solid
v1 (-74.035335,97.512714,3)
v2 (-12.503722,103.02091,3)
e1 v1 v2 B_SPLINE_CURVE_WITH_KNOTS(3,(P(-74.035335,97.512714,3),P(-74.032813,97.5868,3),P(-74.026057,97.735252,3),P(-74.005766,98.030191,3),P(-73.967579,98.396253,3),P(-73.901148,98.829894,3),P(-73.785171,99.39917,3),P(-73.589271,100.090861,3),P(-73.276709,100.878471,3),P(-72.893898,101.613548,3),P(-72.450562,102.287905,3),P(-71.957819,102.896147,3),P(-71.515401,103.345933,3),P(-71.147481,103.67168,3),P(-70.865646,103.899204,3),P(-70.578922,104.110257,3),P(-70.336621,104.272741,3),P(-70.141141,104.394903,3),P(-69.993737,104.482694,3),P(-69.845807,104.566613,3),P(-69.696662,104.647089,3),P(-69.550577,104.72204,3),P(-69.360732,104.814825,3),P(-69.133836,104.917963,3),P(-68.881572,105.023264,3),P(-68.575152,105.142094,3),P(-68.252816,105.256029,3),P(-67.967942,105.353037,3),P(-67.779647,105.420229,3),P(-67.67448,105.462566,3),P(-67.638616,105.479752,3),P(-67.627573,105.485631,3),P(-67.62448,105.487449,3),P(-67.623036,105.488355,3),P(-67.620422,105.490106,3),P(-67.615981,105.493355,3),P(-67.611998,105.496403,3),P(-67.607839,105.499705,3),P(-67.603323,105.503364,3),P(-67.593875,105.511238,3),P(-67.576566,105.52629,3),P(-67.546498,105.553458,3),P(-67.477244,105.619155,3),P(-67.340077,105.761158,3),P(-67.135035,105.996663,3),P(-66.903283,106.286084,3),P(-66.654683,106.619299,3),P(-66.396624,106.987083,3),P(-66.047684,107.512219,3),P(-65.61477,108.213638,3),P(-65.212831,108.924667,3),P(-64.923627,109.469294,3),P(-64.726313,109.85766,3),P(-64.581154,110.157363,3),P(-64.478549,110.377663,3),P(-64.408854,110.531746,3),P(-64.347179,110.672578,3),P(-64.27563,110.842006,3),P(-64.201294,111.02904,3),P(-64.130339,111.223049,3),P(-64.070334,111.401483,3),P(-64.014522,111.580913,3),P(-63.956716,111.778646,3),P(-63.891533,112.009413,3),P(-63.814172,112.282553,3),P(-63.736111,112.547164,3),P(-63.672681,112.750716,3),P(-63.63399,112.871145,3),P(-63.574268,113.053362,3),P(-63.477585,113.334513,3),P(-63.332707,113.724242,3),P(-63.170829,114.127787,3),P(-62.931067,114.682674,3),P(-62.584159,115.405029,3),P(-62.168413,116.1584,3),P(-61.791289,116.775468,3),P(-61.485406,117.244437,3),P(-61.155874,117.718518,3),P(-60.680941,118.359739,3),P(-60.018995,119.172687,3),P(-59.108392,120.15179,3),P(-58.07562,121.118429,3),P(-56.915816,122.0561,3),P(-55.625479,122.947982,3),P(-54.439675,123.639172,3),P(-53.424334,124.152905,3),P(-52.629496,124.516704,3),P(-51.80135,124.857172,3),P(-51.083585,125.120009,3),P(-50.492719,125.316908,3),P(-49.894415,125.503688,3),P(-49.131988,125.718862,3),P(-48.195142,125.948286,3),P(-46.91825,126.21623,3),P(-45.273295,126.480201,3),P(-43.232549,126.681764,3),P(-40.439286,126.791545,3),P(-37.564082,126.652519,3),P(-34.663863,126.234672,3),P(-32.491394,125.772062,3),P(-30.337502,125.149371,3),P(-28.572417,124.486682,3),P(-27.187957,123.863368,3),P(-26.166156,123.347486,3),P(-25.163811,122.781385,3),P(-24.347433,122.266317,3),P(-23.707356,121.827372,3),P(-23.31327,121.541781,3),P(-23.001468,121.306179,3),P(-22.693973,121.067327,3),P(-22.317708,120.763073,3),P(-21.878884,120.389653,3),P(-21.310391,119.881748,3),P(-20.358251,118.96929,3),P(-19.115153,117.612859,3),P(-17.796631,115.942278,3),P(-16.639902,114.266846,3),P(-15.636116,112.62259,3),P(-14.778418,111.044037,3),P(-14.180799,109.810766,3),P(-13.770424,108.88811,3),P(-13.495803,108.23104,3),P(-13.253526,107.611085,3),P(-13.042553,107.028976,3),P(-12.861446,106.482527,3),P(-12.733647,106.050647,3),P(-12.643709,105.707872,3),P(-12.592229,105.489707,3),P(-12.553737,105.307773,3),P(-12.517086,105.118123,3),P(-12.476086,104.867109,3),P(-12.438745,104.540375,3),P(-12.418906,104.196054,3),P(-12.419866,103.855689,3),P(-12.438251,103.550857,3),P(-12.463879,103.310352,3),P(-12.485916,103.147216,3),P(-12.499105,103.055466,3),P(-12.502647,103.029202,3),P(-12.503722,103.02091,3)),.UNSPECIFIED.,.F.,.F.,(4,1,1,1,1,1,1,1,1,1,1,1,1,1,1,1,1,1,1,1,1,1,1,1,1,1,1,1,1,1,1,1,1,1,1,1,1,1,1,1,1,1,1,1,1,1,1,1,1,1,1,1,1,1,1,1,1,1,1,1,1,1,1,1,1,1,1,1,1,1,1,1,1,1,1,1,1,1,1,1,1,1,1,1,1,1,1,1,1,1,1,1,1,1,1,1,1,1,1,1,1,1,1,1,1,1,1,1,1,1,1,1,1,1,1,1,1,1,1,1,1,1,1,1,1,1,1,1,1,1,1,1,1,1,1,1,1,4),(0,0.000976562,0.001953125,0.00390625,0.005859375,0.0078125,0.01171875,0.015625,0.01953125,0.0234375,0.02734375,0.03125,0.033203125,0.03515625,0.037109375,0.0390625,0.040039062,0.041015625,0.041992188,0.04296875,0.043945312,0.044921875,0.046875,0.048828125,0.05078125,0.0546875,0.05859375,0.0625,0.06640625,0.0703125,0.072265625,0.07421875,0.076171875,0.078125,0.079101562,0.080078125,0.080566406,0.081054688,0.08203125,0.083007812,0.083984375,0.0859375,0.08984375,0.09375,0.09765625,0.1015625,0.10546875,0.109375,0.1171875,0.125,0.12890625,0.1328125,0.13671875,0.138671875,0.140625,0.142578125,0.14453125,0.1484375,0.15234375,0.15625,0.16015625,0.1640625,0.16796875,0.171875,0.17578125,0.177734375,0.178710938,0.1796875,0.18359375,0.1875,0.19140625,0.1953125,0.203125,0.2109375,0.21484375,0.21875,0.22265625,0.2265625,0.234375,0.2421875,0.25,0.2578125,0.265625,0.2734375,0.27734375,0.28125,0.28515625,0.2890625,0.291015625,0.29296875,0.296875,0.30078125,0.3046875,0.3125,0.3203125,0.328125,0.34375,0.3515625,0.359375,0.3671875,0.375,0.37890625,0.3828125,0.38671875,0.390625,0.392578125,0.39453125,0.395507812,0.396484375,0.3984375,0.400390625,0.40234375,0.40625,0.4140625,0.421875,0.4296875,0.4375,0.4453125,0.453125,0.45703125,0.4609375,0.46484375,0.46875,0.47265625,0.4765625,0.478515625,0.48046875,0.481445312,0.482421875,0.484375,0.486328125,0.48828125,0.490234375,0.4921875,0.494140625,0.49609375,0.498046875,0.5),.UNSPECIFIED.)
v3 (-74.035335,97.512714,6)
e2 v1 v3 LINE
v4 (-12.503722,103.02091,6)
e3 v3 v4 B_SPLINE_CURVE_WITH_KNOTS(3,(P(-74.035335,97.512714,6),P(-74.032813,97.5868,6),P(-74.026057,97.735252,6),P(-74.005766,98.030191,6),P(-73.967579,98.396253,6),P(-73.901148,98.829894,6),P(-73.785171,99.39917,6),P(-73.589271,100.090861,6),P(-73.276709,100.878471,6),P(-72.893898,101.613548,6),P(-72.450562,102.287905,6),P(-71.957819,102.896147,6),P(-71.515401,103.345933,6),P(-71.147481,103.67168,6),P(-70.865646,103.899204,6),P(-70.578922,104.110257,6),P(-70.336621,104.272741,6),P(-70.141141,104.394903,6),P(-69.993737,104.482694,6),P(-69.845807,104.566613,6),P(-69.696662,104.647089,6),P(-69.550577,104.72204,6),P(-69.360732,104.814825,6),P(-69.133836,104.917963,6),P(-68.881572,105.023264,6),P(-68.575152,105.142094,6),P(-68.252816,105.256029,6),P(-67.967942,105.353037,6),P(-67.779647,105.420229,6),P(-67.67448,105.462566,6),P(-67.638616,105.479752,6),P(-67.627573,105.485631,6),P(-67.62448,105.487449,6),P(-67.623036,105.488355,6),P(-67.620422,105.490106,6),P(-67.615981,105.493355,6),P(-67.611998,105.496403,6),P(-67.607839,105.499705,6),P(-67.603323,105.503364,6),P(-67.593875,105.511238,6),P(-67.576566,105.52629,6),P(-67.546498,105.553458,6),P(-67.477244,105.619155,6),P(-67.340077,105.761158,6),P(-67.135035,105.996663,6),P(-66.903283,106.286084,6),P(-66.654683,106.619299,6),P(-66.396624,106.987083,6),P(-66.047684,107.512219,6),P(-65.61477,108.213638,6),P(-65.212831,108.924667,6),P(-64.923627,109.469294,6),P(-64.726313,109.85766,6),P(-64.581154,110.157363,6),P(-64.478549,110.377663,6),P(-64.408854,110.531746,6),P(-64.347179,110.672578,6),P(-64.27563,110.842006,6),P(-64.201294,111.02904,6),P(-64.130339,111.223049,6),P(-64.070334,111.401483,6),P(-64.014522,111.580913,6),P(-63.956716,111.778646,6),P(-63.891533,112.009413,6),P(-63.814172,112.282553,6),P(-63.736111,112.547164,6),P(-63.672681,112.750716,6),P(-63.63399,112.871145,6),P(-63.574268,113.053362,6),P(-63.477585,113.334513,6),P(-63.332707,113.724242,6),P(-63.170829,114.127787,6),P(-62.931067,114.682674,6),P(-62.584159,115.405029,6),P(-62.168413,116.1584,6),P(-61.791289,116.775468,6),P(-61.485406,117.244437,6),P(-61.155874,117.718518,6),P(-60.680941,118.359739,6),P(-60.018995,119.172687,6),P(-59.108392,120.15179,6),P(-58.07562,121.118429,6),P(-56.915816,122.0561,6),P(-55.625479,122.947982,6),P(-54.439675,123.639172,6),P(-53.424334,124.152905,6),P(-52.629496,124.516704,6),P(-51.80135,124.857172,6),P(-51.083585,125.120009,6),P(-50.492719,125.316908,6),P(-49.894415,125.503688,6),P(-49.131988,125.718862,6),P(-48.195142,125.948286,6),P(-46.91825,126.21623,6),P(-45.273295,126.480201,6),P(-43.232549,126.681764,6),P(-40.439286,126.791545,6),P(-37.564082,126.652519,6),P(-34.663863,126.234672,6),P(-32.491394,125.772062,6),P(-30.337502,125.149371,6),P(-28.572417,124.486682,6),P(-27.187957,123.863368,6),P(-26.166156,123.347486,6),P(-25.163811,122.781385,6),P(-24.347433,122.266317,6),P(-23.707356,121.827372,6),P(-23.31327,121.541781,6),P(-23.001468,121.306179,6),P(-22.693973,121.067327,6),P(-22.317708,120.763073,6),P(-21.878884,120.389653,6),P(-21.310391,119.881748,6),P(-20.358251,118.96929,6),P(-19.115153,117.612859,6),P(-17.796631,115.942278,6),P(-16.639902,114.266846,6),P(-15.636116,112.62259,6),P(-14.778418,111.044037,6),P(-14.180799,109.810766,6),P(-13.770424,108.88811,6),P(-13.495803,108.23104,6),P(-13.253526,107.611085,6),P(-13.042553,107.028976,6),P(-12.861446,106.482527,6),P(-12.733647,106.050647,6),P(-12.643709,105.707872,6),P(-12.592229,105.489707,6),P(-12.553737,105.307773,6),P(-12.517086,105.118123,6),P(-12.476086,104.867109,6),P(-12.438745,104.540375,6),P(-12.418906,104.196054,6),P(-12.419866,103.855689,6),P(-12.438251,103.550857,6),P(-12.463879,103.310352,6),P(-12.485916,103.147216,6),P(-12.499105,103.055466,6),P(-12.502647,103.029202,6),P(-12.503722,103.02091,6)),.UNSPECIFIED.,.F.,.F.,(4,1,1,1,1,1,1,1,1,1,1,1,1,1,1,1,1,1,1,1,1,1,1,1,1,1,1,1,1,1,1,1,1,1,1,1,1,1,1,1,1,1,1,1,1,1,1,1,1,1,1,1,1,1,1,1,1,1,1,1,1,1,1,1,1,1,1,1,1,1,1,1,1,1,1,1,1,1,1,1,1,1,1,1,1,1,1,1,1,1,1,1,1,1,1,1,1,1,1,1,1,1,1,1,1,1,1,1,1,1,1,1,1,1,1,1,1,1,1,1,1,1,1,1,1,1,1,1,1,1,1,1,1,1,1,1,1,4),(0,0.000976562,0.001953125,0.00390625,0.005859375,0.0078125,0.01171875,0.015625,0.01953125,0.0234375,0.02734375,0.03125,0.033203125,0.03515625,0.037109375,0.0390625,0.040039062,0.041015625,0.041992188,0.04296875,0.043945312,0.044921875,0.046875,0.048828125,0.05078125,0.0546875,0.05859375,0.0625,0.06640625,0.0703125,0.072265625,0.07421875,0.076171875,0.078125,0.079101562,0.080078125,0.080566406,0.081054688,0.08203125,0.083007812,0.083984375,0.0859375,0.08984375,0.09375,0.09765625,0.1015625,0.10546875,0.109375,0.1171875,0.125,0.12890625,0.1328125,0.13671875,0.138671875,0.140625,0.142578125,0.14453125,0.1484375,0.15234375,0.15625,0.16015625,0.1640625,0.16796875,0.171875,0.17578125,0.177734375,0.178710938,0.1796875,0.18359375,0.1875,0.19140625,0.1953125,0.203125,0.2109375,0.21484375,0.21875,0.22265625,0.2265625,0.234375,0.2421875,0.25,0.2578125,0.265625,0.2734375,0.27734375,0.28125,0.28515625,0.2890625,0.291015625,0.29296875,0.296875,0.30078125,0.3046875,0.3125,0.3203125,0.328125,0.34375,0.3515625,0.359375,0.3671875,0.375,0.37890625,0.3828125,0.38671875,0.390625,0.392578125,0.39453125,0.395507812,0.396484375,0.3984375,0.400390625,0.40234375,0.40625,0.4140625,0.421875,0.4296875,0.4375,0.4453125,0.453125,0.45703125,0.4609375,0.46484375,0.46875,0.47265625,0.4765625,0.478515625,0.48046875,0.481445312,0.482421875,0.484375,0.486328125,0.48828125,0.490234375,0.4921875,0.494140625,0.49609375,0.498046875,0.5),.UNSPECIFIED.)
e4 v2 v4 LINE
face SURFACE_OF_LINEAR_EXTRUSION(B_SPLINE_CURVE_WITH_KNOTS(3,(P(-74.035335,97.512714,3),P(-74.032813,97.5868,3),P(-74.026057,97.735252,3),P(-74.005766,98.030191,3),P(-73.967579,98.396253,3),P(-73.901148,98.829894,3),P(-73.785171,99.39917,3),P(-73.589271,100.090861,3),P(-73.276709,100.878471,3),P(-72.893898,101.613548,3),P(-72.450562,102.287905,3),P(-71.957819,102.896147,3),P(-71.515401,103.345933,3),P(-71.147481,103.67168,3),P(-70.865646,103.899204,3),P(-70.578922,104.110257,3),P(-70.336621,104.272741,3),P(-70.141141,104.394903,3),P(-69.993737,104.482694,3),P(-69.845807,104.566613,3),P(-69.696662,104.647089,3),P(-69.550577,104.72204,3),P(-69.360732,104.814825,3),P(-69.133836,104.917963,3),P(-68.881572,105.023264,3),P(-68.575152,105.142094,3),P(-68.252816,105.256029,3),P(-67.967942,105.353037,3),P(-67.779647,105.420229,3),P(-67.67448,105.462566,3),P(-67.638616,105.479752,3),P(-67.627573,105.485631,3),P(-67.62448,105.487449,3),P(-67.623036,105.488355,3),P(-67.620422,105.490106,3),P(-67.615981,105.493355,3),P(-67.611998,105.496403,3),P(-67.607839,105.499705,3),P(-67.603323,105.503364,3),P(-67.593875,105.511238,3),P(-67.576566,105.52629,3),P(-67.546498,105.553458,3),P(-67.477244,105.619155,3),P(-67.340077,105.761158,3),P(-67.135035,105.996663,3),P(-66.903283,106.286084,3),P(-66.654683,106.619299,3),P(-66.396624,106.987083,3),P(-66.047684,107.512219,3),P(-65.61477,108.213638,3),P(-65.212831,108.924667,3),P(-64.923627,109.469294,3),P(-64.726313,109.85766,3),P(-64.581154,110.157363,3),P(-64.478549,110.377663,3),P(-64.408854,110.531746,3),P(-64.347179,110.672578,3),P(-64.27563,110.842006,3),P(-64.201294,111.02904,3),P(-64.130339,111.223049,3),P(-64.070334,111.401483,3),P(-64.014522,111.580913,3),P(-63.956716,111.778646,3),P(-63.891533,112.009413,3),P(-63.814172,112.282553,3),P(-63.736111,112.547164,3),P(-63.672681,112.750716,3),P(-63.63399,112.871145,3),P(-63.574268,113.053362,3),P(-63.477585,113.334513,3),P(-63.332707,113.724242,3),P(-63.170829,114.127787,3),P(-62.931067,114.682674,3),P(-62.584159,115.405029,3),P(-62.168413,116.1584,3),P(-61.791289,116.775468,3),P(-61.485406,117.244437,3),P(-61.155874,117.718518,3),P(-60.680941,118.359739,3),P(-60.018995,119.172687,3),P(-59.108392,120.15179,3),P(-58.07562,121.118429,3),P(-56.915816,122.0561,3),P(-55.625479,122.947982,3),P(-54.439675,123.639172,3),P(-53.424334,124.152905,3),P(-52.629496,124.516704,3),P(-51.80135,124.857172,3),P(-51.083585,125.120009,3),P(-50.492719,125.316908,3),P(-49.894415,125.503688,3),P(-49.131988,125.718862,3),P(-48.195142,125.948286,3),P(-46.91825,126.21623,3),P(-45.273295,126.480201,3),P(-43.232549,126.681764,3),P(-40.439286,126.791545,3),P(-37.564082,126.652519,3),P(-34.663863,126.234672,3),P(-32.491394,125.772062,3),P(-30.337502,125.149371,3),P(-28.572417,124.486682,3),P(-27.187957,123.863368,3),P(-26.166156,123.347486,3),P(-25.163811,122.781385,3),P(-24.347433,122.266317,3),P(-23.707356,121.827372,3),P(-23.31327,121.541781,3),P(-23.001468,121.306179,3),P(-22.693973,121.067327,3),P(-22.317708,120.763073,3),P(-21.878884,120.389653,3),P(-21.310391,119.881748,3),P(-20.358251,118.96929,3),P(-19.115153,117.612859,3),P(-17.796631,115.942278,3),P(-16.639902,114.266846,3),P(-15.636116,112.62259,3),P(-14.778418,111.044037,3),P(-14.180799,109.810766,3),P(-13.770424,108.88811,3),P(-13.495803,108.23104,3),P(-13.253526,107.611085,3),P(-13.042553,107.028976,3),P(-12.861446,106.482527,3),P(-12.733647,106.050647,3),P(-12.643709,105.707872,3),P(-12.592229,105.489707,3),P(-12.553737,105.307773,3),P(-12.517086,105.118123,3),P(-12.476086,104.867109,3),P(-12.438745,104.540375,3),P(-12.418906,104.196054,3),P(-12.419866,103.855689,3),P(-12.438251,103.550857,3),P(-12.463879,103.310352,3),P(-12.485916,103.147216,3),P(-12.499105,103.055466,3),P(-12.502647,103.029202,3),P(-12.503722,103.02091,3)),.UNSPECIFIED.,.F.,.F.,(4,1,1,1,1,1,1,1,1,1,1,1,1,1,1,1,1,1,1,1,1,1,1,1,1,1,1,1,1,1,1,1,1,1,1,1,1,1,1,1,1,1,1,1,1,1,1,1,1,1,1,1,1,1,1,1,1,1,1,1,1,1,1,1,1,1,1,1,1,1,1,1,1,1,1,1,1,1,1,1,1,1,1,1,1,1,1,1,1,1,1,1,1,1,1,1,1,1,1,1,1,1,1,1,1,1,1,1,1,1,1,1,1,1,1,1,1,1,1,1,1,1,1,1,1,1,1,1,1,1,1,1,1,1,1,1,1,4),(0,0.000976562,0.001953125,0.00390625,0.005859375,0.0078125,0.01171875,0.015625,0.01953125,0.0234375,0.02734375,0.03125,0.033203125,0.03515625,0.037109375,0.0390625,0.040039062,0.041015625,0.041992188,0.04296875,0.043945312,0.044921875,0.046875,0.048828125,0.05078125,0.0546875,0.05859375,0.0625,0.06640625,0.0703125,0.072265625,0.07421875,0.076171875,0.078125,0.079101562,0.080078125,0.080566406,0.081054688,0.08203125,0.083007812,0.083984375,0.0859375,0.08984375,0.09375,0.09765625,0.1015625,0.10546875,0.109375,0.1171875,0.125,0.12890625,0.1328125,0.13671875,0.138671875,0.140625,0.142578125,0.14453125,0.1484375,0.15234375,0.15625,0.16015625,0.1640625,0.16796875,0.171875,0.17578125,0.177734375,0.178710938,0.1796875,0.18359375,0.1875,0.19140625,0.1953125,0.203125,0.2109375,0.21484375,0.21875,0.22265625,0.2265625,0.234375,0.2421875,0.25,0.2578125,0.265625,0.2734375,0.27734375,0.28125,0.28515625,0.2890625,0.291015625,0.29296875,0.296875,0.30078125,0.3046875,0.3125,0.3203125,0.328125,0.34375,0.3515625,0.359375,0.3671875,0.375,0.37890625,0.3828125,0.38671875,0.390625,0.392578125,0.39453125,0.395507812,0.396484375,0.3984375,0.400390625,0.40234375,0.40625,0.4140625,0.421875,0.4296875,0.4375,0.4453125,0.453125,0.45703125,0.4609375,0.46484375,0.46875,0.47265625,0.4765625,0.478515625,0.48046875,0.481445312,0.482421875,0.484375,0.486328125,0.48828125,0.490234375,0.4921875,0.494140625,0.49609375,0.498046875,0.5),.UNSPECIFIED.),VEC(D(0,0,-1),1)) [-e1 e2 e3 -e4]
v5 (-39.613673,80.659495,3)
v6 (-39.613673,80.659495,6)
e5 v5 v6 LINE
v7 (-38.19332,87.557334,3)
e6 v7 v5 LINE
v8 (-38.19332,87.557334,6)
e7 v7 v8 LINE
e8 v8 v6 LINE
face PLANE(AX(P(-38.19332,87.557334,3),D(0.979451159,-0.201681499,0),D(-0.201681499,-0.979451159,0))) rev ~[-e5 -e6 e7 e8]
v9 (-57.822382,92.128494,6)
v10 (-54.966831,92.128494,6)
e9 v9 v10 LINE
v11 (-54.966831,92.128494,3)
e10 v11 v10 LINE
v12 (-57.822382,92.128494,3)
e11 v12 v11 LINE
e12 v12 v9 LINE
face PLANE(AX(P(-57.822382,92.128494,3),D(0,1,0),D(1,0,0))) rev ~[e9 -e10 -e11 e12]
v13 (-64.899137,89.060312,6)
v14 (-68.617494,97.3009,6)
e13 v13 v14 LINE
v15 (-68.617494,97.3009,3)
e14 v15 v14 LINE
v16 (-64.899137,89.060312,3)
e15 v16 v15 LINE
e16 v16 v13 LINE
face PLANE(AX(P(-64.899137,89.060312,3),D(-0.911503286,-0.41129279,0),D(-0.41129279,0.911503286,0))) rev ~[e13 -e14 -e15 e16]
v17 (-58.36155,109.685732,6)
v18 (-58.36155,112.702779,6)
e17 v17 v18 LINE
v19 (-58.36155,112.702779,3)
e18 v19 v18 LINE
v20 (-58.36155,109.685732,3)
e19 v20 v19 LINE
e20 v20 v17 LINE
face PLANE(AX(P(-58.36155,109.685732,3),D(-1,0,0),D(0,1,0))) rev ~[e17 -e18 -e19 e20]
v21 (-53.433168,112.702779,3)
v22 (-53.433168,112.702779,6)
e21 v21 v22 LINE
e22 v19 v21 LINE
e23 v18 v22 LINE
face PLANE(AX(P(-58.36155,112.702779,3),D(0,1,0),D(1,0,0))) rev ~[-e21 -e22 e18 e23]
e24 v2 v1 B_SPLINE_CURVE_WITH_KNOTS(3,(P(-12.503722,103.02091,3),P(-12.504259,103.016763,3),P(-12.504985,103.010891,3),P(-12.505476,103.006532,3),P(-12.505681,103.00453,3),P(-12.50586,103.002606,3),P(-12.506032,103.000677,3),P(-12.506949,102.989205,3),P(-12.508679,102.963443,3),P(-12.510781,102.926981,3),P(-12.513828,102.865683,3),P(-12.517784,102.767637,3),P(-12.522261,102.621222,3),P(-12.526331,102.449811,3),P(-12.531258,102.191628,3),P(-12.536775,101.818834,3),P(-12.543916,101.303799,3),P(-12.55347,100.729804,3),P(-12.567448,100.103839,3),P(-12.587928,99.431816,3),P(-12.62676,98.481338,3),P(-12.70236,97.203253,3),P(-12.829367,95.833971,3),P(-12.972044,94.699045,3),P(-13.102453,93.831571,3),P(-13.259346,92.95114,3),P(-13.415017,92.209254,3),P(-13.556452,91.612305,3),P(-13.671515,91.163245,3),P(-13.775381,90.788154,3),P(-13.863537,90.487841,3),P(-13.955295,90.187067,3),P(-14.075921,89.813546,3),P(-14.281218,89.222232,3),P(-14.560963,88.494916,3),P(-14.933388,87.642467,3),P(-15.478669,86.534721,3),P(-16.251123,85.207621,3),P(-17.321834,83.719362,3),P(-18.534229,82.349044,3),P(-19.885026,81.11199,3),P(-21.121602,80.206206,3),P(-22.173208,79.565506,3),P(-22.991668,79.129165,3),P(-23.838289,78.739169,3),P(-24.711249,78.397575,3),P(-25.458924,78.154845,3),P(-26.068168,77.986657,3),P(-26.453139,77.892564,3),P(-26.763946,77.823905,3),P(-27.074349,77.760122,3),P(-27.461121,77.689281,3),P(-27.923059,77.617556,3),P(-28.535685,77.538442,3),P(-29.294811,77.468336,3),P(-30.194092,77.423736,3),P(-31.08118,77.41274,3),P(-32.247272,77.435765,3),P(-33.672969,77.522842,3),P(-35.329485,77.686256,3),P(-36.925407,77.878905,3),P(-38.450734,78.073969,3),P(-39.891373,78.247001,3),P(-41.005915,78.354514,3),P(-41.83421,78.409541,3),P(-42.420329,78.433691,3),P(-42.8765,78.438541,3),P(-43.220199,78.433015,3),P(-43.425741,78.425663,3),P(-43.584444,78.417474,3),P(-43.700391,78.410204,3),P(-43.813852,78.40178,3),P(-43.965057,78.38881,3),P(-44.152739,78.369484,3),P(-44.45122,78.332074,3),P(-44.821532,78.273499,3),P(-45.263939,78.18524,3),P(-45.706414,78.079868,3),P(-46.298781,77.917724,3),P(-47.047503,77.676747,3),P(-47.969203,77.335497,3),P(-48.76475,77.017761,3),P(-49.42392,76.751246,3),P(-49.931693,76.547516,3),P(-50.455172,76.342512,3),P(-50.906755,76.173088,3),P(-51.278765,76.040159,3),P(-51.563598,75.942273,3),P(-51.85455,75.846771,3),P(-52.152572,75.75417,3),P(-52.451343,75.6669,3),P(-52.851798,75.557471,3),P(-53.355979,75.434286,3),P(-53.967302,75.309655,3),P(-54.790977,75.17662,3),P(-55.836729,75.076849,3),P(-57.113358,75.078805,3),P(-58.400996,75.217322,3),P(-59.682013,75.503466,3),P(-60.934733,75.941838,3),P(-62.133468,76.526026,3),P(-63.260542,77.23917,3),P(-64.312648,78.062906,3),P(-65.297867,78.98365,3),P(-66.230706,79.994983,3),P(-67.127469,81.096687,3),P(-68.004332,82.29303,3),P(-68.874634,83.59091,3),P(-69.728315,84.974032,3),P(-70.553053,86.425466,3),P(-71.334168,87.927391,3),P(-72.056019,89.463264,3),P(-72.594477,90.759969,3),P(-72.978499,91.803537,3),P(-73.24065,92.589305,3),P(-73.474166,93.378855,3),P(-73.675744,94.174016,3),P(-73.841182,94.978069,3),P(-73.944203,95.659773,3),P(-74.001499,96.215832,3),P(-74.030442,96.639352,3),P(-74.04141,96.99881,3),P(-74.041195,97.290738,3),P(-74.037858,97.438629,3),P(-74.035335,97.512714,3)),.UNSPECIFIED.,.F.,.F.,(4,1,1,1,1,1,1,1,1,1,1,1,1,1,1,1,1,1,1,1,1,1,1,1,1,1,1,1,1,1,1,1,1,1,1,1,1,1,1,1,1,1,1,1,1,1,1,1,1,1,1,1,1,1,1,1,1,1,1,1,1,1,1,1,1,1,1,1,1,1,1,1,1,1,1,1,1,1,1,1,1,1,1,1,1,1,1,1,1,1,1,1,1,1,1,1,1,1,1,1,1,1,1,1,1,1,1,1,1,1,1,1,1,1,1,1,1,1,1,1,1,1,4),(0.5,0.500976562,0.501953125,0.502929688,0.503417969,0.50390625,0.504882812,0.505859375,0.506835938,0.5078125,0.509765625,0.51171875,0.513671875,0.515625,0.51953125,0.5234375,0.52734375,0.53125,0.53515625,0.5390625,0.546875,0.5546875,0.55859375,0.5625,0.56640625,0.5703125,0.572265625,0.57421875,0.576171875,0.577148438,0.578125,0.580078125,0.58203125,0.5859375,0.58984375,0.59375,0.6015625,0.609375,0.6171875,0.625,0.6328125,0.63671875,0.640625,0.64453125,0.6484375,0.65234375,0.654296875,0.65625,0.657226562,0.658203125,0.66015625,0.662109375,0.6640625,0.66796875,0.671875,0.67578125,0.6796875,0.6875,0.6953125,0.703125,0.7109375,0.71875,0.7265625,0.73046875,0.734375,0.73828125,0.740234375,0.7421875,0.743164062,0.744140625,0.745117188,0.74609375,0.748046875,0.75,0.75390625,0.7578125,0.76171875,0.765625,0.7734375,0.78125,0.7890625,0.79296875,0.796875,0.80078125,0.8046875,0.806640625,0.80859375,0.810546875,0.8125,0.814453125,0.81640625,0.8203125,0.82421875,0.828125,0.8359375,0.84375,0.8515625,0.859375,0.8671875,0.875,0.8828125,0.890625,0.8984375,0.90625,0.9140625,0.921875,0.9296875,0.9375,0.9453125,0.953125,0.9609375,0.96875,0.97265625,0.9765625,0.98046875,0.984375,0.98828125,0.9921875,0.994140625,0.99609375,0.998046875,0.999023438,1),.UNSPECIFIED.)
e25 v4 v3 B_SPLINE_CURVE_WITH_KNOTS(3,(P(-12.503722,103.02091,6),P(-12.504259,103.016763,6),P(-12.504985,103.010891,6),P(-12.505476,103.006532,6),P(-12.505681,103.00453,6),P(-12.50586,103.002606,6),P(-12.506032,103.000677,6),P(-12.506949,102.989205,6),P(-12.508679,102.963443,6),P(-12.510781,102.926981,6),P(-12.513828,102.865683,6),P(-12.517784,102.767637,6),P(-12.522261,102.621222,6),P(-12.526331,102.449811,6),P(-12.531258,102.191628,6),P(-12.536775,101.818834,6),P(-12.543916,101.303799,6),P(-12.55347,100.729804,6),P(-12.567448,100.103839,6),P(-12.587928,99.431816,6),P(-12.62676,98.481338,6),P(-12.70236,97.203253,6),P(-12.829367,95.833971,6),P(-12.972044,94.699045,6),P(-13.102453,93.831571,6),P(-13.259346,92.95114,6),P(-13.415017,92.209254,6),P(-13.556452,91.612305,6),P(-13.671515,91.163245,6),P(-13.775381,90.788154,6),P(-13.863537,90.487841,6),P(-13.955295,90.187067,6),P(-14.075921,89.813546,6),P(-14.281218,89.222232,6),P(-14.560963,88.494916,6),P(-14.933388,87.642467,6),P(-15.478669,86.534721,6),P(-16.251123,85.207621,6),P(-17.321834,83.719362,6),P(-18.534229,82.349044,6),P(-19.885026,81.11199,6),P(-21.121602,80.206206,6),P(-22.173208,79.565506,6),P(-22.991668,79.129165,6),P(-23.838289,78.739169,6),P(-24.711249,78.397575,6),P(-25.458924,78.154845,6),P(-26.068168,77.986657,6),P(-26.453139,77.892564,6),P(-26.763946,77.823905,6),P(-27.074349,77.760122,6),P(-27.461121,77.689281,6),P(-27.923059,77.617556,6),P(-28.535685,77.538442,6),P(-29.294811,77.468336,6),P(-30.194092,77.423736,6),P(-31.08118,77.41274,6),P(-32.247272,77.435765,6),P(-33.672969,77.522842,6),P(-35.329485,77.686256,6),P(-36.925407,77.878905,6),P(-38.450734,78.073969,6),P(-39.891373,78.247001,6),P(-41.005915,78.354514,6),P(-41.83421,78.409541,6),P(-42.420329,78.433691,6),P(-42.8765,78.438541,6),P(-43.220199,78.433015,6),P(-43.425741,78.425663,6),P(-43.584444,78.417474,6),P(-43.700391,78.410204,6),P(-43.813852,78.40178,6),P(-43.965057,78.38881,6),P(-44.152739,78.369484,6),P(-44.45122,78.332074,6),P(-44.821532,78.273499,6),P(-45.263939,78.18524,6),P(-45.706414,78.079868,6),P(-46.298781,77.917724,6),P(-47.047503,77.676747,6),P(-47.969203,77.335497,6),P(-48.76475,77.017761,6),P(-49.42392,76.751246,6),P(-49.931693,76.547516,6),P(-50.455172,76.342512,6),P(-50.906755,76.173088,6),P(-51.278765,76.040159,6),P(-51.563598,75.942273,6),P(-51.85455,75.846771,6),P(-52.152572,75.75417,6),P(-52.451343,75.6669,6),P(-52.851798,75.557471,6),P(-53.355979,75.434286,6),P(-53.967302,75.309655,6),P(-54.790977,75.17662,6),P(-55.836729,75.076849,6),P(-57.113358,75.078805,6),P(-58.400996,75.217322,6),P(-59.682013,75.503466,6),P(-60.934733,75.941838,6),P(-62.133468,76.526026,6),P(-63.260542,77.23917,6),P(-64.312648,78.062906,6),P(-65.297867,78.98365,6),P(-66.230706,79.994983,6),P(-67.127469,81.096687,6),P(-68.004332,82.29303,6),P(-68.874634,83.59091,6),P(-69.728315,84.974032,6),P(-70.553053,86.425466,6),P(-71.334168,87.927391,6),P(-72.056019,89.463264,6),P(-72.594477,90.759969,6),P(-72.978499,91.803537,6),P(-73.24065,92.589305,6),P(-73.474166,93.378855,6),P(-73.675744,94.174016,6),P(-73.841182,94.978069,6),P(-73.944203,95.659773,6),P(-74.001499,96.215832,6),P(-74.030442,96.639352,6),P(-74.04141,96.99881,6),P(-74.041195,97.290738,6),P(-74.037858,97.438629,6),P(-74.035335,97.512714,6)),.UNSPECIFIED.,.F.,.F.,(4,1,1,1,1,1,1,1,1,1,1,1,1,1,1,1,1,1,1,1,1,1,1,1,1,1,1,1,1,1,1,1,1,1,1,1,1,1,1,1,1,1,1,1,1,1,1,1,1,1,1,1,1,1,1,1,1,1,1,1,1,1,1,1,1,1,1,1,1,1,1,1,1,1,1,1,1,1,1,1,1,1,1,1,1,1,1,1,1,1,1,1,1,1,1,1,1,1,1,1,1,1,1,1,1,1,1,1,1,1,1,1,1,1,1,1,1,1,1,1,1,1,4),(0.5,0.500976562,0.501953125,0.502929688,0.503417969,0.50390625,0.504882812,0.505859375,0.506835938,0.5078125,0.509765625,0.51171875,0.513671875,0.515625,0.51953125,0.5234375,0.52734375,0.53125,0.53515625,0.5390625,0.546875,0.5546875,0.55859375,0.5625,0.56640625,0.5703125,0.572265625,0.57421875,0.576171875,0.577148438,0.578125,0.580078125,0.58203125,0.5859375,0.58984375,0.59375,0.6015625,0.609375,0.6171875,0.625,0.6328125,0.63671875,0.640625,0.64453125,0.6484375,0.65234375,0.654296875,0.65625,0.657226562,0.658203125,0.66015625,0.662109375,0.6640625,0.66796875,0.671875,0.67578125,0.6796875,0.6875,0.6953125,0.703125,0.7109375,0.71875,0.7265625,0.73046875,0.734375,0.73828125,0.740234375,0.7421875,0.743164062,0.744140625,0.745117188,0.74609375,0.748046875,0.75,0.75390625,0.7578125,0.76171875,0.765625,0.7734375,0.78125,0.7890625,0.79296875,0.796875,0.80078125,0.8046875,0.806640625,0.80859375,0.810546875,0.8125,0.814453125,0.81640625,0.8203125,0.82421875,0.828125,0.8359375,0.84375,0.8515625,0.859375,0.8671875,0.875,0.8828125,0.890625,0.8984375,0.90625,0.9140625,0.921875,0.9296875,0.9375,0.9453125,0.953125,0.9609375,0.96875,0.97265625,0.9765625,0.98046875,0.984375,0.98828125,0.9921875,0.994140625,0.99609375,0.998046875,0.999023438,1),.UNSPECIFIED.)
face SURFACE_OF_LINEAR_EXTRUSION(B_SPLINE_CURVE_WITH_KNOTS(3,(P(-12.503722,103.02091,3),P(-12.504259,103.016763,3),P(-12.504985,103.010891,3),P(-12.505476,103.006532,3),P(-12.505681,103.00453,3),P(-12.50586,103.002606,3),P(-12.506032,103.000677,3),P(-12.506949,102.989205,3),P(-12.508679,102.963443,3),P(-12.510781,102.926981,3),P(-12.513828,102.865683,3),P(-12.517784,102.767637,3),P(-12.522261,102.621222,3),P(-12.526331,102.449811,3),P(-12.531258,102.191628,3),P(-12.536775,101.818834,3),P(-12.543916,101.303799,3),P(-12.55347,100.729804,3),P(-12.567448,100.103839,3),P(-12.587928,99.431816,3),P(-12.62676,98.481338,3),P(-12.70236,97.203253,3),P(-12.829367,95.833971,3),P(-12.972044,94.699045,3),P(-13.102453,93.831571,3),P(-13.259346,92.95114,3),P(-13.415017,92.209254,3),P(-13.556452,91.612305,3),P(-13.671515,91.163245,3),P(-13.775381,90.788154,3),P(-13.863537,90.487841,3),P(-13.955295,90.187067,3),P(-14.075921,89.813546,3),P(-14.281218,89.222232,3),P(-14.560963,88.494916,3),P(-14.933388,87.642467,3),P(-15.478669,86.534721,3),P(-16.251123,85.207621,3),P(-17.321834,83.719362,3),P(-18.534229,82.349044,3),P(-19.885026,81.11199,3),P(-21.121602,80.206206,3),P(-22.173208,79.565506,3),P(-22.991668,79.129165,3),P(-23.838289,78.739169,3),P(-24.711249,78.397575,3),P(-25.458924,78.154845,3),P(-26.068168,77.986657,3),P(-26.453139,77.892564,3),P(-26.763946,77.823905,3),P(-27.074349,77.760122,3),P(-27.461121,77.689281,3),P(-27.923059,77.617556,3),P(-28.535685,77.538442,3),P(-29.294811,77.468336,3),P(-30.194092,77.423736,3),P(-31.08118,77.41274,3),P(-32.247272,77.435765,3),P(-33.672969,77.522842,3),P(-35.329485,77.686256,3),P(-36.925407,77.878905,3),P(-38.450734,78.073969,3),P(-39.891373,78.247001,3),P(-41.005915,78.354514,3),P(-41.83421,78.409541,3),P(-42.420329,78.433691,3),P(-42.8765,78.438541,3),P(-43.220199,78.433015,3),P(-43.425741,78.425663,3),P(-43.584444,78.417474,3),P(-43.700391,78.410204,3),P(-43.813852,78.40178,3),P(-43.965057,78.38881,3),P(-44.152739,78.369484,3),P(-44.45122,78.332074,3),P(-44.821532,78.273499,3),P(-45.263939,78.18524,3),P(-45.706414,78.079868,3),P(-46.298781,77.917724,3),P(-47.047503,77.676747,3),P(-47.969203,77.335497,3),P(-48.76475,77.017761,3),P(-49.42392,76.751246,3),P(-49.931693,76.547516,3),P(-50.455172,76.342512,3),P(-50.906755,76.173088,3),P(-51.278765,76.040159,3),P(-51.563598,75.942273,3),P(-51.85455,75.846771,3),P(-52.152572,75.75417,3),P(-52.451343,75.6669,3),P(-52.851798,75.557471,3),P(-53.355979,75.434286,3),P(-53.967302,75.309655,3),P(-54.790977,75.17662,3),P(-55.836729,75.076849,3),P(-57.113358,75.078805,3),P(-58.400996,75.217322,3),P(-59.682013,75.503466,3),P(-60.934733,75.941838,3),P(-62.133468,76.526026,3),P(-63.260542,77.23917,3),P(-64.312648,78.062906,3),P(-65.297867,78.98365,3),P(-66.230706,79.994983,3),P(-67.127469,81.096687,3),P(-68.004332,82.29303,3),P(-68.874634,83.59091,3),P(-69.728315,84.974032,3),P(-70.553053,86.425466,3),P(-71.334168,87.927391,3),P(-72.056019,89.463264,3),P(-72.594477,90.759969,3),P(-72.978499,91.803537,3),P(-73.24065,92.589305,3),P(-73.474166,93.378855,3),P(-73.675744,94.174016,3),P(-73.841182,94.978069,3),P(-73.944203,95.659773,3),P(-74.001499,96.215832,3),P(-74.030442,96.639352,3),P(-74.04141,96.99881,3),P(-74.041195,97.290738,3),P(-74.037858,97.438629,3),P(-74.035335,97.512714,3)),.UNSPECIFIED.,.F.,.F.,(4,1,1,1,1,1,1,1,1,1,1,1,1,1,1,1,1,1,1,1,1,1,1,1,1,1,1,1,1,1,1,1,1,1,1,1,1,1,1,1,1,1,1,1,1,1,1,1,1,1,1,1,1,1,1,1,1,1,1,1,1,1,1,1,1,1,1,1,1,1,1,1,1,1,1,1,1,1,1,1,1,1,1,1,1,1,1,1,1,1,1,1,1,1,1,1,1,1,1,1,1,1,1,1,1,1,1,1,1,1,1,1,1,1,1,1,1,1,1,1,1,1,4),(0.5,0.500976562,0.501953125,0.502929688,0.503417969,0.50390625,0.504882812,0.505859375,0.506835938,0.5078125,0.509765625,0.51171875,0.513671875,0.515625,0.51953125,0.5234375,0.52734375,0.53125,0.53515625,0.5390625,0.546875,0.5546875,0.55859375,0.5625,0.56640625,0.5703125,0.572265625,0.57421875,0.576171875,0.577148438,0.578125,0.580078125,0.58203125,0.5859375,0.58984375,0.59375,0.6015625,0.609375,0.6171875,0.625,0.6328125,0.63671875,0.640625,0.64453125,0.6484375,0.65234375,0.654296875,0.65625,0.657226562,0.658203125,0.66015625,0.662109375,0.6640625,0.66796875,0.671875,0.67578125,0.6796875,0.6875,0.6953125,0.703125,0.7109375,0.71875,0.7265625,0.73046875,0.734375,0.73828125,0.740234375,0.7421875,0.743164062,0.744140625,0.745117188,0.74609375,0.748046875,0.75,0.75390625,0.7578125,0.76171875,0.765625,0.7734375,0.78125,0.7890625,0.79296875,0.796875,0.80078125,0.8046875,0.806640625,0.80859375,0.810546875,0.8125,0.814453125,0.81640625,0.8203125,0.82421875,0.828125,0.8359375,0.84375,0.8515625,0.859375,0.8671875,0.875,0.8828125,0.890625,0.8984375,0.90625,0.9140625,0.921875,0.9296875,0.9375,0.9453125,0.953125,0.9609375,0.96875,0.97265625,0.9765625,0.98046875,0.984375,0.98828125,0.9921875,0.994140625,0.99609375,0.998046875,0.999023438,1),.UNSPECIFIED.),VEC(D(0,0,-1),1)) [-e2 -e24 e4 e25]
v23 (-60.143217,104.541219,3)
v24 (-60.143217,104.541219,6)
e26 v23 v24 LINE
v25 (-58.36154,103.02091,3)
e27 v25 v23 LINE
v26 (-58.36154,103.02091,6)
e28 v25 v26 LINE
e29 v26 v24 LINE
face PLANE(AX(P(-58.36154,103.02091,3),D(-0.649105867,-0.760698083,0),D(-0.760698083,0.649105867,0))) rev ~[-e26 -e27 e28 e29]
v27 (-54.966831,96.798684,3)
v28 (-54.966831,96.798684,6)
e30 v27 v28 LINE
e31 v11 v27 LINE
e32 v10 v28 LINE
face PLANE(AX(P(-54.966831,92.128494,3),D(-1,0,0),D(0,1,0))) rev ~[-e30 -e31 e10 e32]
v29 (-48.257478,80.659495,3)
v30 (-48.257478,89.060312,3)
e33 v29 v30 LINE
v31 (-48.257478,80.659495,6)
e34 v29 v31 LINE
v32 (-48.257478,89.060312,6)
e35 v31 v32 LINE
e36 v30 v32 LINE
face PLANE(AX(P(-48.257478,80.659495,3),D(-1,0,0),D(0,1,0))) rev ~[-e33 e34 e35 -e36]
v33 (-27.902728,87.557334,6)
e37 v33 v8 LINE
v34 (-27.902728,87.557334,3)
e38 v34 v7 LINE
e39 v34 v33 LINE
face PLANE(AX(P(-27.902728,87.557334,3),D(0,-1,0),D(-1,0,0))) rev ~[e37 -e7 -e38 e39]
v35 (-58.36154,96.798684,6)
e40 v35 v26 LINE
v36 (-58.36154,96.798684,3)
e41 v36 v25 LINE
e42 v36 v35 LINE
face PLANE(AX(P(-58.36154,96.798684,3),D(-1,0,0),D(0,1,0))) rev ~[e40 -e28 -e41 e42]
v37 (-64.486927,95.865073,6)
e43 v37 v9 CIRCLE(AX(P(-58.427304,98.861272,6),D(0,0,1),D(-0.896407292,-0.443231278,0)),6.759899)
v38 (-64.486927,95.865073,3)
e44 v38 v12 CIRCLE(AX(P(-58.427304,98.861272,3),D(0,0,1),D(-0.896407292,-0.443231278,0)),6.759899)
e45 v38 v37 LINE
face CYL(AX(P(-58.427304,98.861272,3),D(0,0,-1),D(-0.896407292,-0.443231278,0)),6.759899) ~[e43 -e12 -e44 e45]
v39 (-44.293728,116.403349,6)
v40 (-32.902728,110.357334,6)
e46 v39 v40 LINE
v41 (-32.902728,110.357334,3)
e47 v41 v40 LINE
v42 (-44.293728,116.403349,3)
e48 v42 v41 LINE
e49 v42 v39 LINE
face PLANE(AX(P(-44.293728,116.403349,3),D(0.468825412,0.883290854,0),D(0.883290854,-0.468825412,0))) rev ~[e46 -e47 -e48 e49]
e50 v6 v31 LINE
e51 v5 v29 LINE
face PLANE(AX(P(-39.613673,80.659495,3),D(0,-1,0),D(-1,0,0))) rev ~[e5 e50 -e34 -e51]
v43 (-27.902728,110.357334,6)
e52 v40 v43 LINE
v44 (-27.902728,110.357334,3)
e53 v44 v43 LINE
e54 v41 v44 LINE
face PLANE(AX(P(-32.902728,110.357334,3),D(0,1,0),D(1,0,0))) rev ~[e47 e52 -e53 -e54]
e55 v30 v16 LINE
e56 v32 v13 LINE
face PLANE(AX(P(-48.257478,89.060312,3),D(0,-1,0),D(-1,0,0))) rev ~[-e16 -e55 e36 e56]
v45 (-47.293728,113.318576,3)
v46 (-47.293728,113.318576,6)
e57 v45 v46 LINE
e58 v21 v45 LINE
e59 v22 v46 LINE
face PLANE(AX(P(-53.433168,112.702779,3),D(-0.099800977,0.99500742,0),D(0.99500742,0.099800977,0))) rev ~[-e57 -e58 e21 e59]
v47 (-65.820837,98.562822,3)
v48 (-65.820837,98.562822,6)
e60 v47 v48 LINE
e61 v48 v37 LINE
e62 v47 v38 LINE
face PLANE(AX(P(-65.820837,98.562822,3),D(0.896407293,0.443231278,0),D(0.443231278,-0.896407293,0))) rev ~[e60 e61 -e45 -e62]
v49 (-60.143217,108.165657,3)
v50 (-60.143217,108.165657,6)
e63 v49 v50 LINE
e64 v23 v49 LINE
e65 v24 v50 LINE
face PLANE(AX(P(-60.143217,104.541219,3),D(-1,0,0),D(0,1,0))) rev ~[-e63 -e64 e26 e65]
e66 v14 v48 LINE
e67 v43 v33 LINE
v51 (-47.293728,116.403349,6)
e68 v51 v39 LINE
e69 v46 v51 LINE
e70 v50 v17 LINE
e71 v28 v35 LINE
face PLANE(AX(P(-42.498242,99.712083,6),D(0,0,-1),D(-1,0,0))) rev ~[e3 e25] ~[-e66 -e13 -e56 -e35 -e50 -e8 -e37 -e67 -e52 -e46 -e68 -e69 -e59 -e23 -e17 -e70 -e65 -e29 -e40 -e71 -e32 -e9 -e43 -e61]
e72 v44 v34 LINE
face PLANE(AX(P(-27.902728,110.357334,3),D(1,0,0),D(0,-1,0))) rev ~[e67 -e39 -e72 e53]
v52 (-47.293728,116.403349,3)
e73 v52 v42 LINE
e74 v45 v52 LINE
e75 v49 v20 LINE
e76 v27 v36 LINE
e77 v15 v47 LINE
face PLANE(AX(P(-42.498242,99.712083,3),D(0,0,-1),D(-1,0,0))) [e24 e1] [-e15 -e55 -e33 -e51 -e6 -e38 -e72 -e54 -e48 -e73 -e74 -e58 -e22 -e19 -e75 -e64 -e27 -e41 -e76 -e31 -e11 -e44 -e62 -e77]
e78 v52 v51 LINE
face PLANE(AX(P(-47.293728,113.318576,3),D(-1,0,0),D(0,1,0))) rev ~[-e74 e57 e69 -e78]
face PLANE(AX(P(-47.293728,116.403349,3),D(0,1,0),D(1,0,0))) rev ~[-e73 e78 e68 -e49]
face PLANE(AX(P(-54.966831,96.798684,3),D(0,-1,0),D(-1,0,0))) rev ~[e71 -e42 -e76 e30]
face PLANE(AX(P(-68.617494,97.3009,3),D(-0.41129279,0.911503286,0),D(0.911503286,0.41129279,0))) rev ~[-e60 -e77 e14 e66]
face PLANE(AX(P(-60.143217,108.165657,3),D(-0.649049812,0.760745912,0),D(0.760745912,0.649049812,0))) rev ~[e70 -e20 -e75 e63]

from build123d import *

# Parameters (mm, degrees)
BOSS_EXTRUDE1_DEPTH = 3


with BuildPart() as part:
    # Sketch1 → Boss-Extrude1 (new body)
    with BuildSketch(Plane.XY.offset(3)):
        with BuildLine():
            add(Edge.make_bspline(
                [(-12.503721614, 103.020909641), (-12.504258768, 103.016763491), (-12.504984744, 103.010891104), (-12.505475717, 103.006531994), (-12.505681311, 103.004529507), (-12.505859765, 103.002606145), (-12.506031709, 103.000677158), (-12.506948745, 102.989205376), (-12.508679121, 102.963442895), (-12.51078053, 102.926980906), (-12.513828389, 102.865682561), (-12.517784217, 102.76763725), (-12.522260997, 102.621221598), (-12.526331396, 102.449810535), (-12.53125847, 102.191627647), (-12.536774791, 101.818833796), (-12.543915654, 101.303798708), (-12.553470408, 100.729803932), (-12.567447812, 100.103839437), (-12.587928434, 99.431815552), (-12.626760203, 98.481338167), (-12.702359786, 97.203253421), (-12.829366588, 95.833971221), (-12.972043834, 94.69904508), (-13.102452735, 93.831571475), (-13.259346107, 92.951140362), (-13.415016976, 92.20925412), (-13.556452466, 91.612304752), (-13.671515395, 91.1632445), (-13.775381231, 90.788153898), (-13.863536759, 90.48784121), (-13.955295022, 90.187067219), (-14.075920693, 89.813545836), (-14.281218362, 89.222231936), (-14.560963384, 88.494915548), (-14.933387594, 87.642466836), (-15.478669461, 86.534720506), (-16.251123303, 85.207620917), (-17.321833668, 83.719361814), (-18.534228529, 82.349043642), (-19.885026241, 81.111990078), (-21.121601637, 80.20620566), (-22.173207635, 79.565506379), (-22.99166794, 79.129165303), (-23.838289096, 78.739169238), (-24.711248674, 78.397574527), (-25.458924014, 78.154845401), (-26.068167752, 77.986657032), (-26.453138508, 77.892564193), (-26.763945868, 77.823905401), (-27.074348774, 77.760122025), (-27.461120902, 77.689281084), (-27.923058653, 77.617555638), (-28.535685073, 77.538442233), (-29.294811033, 77.468335515), (-30.194091673, 77.423735573), (-31.081180257, 77.412740326), (-32.247272366, 77.435765152), (-33.672969026, 77.522842302), (-35.329485006, 77.686255945), (-36.925407239, 77.878904613), (-38.450734193, 78.073969292), (-39.891373306, 78.247000647), (-41.005914863, 78.354513531), (-41.834209512, 78.409541333), (-42.420328861, 78.433690639), (-42.876499624, 78.438540996), (-43.220198532, 78.433015243), (-43.425741075, 78.425663409), (-43.58444437, 78.417473529), (-43.70039055, 78.410204058), (-43.813852366, 78.401779698), (-43.965056942, 78.388810347), (-44.152738999, 78.369484166), (-44.451220452, 78.332074383), (-44.821531873, 78.273499009), (-45.263939418, 78.185240355), (-45.706413511, 78.079867937), (-46.298780562, 77.917724069), (-47.04750345, 77.676747269), (-47.969203365, 77.335496546), (-48.764750062, 77.017760724), (-49.423919928, 76.751246021), (-49.931693323, 76.547516446), (-50.455171651, 76.342511624), (-50.906755025, 76.173087703), (-51.278764973, 76.040159497), (-51.563597853, 75.942273056), (-51.85454957, 75.846770595), (-52.152571813, 75.754169855), (-52.451342717, 75.666899826), (-52.851797737, 75.557470794), (-53.355979003, 75.434285966), (-53.967301739, 75.309655382), (-54.790977496, 75.176619664), (-55.836728898, 75.076848969), (-57.113357521, 75.078805079), (-58.400996476, 75.217322066), (-59.68201336, 75.503465531), (-60.934733351, 75.941838432), (-62.133467595, 76.526026066), (-63.260542319, 77.239170389), (-64.312648372, 78.062905702), (-65.297866506, 78.983649726), (-66.230705856, 79.994983137), (-67.127468839, 81.096686726), (-68.004332299, 82.29302995), (-68.874634064, 83.590910025), (-69.728315407, 84.974032224), (-70.55305321, 86.425465899), (-71.334167522, 87.927390637), (-72.056018911, 89.463264321), (-72.594477101, 90.759968713), (-72.978499443, 91.80353675), (-73.24065044, 92.589305382), (-73.474165507, 93.378854702), (-73.675743757, 94.174016105), (-73.841181852, 94.978069078), (-73.944202981, 95.659773306), (-74.001499472, 96.215831974), (-74.03044198, 96.639352436), (-74.041410425, 96.998809624), (-74.041194714, 97.290738206), (-74.037858324, 97.438628781), (-74.035335412, 97.512714358)],
                knots=[0.5, 0.5, 0.5, 0.5, 0.500976562, 0.501953125, 0.502929688, 0.503417969, 0.50390625, 0.504882812, 0.505859375, 0.506835938, 0.5078125, 0.509765625, 0.51171875, 0.513671875, 0.515625, 0.51953125, 0.5234375, 0.52734375, 0.53125, 0.53515625, 0.5390625, 0.546875, 0.5546875, 0.55859375, 0.5625, 0.56640625, 0.5703125, 0.572265625, 0.57421875, 0.576171875, 0.577148438, 0.578125, 0.580078125, 0.58203125, 0.5859375, 0.58984375, 0.59375, 0.6015625, 0.609375, 0.6171875, 0.625, 0.6328125, 0.63671875, 0.640625, 0.64453125, 0.6484375, 0.65234375, 0.654296875, 0.65625, 0.657226562, 0.658203125, 0.66015625, 0.662109375, 0.6640625, 0.66796875, 0.671875, 0.67578125, 0.6796875, 0.6875, 0.6953125, 0.703125, 0.7109375, 0.71875, 0.7265625, 0.73046875, 0.734375, 0.73828125, 0.740234375, 0.7421875, 0.743164062, 0.744140625, 0.745117188, 0.74609375, 0.748046875, 0.75, 0.75390625, 0.7578125, 0.76171875, 0.765625, 0.7734375, 0.78125, 0.7890625, 0.79296875, 0.796875, 0.80078125, 0.8046875, 0.806640625, 0.80859375, 0.810546875, 0.8125, 0.814453125, 0.81640625, 0.8203125, 0.82421875, 0.828125, 0.8359375, 0.84375, 0.8515625, 0.859375, 0.8671875, 0.875, 0.8828125, 0.890625, 0.8984375, 0.90625, 0.9140625, 0.921875, 0.9296875, 0.9375, 0.9453125, 0.953125, 0.9609375, 0.96875, 0.97265625, 0.9765625, 0.98046875, 0.984375, 0.98828125, 0.9921875, 0.994140625, 0.99609375, 0.998046875, 0.999023438, 1, 1, 1, 1], degree=3))
            add(Edge.make_bspline(
                [(-74.035335412, 97.512714358), (-74.032812501, 97.586799935), (-74.026057243, 97.735251667), (-74.005765747, 98.030190729), (-73.967579358, 98.396253122), (-73.901148162, 98.829894265), (-73.785171491, 99.399169874), (-73.58927076, 100.090860938), (-73.2767092, 100.878471107), (-72.893898096, 101.613547927), (-72.450561521, 102.287904807), (-71.957818995, 102.89614661), (-71.515401448, 103.345933052), (-71.147480703, 103.67167958), (-70.865645819, 103.899203934), (-70.578921709, 104.110256523), (-70.336620916, 104.272741173), (-70.141140842, 104.39490332), (-69.993737151, 104.482694059), (-69.845807189, 104.566612628), (-69.696662146, 104.647088719), (-69.55057693, 104.722039621), (-69.360732258, 104.814825075), (-69.133836081, 104.917963369), (-68.881572329, 105.023263673), (-68.575151818, 105.142093782), (-68.252816494, 105.256029303), (-67.967942246, 105.353037361), (-67.779647416, 105.420228841), (-67.674480007, 105.462566392), (-67.638616077, 105.47975178), (-67.627573183, 105.48563123), (-67.624480266, 105.487449108), (-67.623036343, 105.488354743), (-67.620422396, 105.490105655), (-67.615981467, 105.493354621), (-67.611997521, 105.496402783), (-67.607838514, 105.499704769), (-67.603322674, 105.503364015), (-67.593874827, 105.511238088), (-67.576565854, 105.526289584), (-67.546498458, 105.553458321), (-67.477243979, 105.619154647), (-67.340076871, 105.761157947), (-67.135034807, 105.996662811), (-66.903283062, 106.286083861), (-66.654683198, 106.619298978), (-66.396623637, 106.98708303), (-66.047684499, 107.512218614), (-65.61476986, 108.213638), (-65.212831183, 108.924667011), (-64.923627254, 109.469294307), (-64.726312768, 109.857659939), (-64.581154479, 110.15736348), (-64.47854882, 110.37766288), (-64.408854391, 110.531745682), (-64.347179258, 110.672577598), (-64.275630116, 110.842005922), (-64.201293922, 111.029039534), (-64.130338937, 111.223049473), (-64.070333848, 111.401483285), (-64.014521741, 111.58091339), (-63.956716265, 111.778645854), (-63.891532854, 112.009412873), (-63.814172236, 112.282553268), (-63.736110549, 112.547163538), (-63.672680539, 112.750715673), (-63.633989948, 112.871144856), (-63.574267997, 113.053362356), (-63.477585424, 113.334512649), (-63.332706852, 113.724242022), (-63.170828903, 114.127787167), (-62.931067372, 114.682673617), (-62.584159332, 115.405028997), (-62.168412762, 116.158400279), (-61.791289084, 116.77546821), (-61.48540621, 117.244437195), (-61.155874102, 117.718518035), (-60.680941325, 118.359739156), (-60.018994898, 119.172686661), (-59.108392499, 120.151789539), (-58.075619668, 121.118429124), (-56.915815734, 122.056099979), (-55.62547873, 122.947982097), (-54.439674888, 123.639171971), (-53.424334311, 124.152904912), (-52.629496085, 124.516704458), (-51.801349567, 124.857172431), (-51.083584806, 125.120009344), (-50.492719158, 125.316908248), (-49.894414859, 125.503687928), (-49.131987838, 125.718861694), (-48.195142053, 125.948286179), (-46.918249992, 126.216230299), (-45.27329538, 126.480201081), (-43.23254948, 126.681763918), (-40.439286068, 126.791544729), (-37.564081602, 126.652518617), (-34.663862983, 126.234672155), (-32.491394015, 125.772062308), (-30.337501692, 125.149371262), (-28.572417198, 124.486681758), (-27.187956934, 123.863368065), (-26.166155554, 123.3474861), (-25.163810913, 122.781385005), (-24.347432541, 122.266317309), (-23.707355576, 121.827371838), (-23.313270347, 121.541781489), (-23.001468351, 121.306178574), (-22.693972702, 121.067327277), (-22.317707831, 120.763072776), (-21.878883849, 120.389653149), (-21.310391443, 119.881748176), (-20.358251435, 118.969289557), (-19.115152603, 117.612859008), (-17.79663054, 115.942278436), (-16.639901882, 114.266846375), (-15.63611601, 112.622589857), (-14.778418335, 111.044036992), (-14.180799265, 109.810766049), (-13.770424317, 108.888110254), (-13.495802515, 108.231039874), (-13.253525642, 107.611084815), (-13.042553067, 107.028975725), (-12.861445532, 106.482527465), (-12.733646502, 106.050647011), (-12.643708791, 105.707871625), (-12.592229442, 105.48970748), (-12.553737461, 105.307773124), (-12.517085645, 105.118122729), (-12.476085538, 104.867109444), (-12.438745437, 104.540374599), (-12.418905984, 104.196053693), (-12.419866427, 103.855688972), (-12.438250832, 103.550857375), (-12.463879157, 103.310352107), (-12.485915645, 103.147216093), (-12.499105354, 103.055466201), (-12.502647305, 103.029201942), (-12.503721614, 103.020909641)],
                knots=[0, 0, 0, 0, 0.000976562, 0.001953125, 0.00390625, 0.005859375, 0.0078125, 0.01171875, 0.015625, 0.01953125, 0.0234375, 0.02734375, 0.03125, 0.033203125, 0.03515625, 0.037109375, 0.0390625, 0.040039062, 0.041015625, 0.041992188, 0.04296875, 0.043945312, 0.044921875, 0.046875, 0.048828125, 0.05078125, 0.0546875, 0.05859375, 0.0625, 0.06640625, 0.0703125, 0.072265625, 0.07421875, 0.076171875, 0.078125, 0.079101562, 0.080078125, 0.080566406, 0.081054688, 0.08203125, 0.083007812, 0.083984375, 0.0859375, 0.08984375, 0.09375, 0.09765625, 0.1015625, 0.10546875, 0.109375, 0.1171875, 0.125, 0.12890625, 0.1328125, 0.13671875, 0.138671875, 0.140625, 0.142578125, 0.14453125, 0.1484375, 0.15234375, 0.15625, 0.16015625, 0.1640625, 0.16796875, 0.171875, 0.17578125, 0.177734375, 0.178710938, 0.1796875, 0.18359375, 0.1875, 0.19140625, 0.1953125, 0.203125, 0.2109375, 0.21484375, 0.21875, 0.22265625, 0.2265625, 0.234375, 0.2421875, 0.25, 0.2578125, 0.265625, 0.2734375, 0.27734375, 0.28125, 0.28515625, 0.2890625, 0.291015625, 0.29296875, 0.296875, 0.30078125, 0.3046875, 0.3125, 0.3203125, 0.328125, 0.34375, 0.3515625, 0.359375, 0.3671875, 0.375, 0.37890625, 0.3828125, 0.38671875, 0.390625, 0.392578125, 0.39453125, 0.395507812, 0.396484375, 0.3984375, 0.400390625, 0.40234375, 0.40625, 0.4140625, 0.421875, 0.4296875, 0.4375, 0.4453125, 0.453125, 0.45703125, 0.4609375, 0.46484375, 0.46875, 0.47265625, 0.4765625, 0.478515625, 0.48046875, 0.481445312, 0.482421875, 0.484375, 0.486328125, 0.48828125, 0.490234375, 0.4921875, 0.494140625, 0.49609375, 0.498046875, 0.5, 0.5, 0.5, 0.5], degree=3))
        make_face()
        with BuildLine():
            Line((-27.902727633, 87.557333605), (-38.193320394, 87.557333605))
            Line((-38.193320394, 87.557333605), (-39.6136734, 80.659495161))
            Line((-39.6136734, 80.659495161), (-48.257478454, 80.659495161))
            Line((-48.257478454, 80.659495161), (-48.257478454, 89.060311968))
            Line((-48.257478454, 89.060311968), (-64.899137496, 89.060311968))
            Line((-64.899137496, 89.060311968), (-68.617494499, 97.300900458))
            Line((-68.617494499, 97.300900458), (-65.820836688, 98.562821517))
            Line((-65.820836688, 98.562821517), (-64.486927034, 95.865073409))
            ThreePointArc((-64.486927034, 95.865073409), (-61.73320004, 92.964892888), (-57.822382228, 92.128493786))
            Line((-57.822382228, 92.128493786), (-54.9668315, 92.128493786))
            Line((-54.9668315, 92.128493786), (-54.9668315, 96.798683831))
            Line((-54.9668315, 96.798683831), (-58.361540384, 96.798683831))
            Line((-58.361540384, 96.798683831), (-58.361540384, 103.020909641))
            Line((-58.361540384, 103.020909641), (-60.143216772, 104.541219239))
            Line((-60.143216772, 104.541219239), (-60.143216772, 108.165657039))
            Line((-60.143216772, 108.165657039), (-58.361549847, 109.685731698))
            Line((-58.361549847, 109.685731698), (-58.361549847, 112.702779494))
            Line((-58.361549847, 112.702779494), (-53.433167981, 112.702779494))
            Line((-53.433167981, 112.702779494), (-47.293727633, 113.318576054))
            Line((-47.293727633, 113.318576054), (-47.293727633, 116.403349188))
            Line((-47.293727633, 116.403349188), (-44.293727633, 116.403349188))
            Line((-44.293727633, 116.403349188), (-32.902727633, 110.357333605))
            Line((-32.902727633, 110.357333605), (-27.902727633, 110.357333605))
            Line((-27.902727633, 110.357333605), (-27.902727633, 87.557333605))
        make_face(mode=Mode.SUBTRACT)
    extrude(amount=BOSS_EXTRUDE1_DEPTH)


solid = part.part
